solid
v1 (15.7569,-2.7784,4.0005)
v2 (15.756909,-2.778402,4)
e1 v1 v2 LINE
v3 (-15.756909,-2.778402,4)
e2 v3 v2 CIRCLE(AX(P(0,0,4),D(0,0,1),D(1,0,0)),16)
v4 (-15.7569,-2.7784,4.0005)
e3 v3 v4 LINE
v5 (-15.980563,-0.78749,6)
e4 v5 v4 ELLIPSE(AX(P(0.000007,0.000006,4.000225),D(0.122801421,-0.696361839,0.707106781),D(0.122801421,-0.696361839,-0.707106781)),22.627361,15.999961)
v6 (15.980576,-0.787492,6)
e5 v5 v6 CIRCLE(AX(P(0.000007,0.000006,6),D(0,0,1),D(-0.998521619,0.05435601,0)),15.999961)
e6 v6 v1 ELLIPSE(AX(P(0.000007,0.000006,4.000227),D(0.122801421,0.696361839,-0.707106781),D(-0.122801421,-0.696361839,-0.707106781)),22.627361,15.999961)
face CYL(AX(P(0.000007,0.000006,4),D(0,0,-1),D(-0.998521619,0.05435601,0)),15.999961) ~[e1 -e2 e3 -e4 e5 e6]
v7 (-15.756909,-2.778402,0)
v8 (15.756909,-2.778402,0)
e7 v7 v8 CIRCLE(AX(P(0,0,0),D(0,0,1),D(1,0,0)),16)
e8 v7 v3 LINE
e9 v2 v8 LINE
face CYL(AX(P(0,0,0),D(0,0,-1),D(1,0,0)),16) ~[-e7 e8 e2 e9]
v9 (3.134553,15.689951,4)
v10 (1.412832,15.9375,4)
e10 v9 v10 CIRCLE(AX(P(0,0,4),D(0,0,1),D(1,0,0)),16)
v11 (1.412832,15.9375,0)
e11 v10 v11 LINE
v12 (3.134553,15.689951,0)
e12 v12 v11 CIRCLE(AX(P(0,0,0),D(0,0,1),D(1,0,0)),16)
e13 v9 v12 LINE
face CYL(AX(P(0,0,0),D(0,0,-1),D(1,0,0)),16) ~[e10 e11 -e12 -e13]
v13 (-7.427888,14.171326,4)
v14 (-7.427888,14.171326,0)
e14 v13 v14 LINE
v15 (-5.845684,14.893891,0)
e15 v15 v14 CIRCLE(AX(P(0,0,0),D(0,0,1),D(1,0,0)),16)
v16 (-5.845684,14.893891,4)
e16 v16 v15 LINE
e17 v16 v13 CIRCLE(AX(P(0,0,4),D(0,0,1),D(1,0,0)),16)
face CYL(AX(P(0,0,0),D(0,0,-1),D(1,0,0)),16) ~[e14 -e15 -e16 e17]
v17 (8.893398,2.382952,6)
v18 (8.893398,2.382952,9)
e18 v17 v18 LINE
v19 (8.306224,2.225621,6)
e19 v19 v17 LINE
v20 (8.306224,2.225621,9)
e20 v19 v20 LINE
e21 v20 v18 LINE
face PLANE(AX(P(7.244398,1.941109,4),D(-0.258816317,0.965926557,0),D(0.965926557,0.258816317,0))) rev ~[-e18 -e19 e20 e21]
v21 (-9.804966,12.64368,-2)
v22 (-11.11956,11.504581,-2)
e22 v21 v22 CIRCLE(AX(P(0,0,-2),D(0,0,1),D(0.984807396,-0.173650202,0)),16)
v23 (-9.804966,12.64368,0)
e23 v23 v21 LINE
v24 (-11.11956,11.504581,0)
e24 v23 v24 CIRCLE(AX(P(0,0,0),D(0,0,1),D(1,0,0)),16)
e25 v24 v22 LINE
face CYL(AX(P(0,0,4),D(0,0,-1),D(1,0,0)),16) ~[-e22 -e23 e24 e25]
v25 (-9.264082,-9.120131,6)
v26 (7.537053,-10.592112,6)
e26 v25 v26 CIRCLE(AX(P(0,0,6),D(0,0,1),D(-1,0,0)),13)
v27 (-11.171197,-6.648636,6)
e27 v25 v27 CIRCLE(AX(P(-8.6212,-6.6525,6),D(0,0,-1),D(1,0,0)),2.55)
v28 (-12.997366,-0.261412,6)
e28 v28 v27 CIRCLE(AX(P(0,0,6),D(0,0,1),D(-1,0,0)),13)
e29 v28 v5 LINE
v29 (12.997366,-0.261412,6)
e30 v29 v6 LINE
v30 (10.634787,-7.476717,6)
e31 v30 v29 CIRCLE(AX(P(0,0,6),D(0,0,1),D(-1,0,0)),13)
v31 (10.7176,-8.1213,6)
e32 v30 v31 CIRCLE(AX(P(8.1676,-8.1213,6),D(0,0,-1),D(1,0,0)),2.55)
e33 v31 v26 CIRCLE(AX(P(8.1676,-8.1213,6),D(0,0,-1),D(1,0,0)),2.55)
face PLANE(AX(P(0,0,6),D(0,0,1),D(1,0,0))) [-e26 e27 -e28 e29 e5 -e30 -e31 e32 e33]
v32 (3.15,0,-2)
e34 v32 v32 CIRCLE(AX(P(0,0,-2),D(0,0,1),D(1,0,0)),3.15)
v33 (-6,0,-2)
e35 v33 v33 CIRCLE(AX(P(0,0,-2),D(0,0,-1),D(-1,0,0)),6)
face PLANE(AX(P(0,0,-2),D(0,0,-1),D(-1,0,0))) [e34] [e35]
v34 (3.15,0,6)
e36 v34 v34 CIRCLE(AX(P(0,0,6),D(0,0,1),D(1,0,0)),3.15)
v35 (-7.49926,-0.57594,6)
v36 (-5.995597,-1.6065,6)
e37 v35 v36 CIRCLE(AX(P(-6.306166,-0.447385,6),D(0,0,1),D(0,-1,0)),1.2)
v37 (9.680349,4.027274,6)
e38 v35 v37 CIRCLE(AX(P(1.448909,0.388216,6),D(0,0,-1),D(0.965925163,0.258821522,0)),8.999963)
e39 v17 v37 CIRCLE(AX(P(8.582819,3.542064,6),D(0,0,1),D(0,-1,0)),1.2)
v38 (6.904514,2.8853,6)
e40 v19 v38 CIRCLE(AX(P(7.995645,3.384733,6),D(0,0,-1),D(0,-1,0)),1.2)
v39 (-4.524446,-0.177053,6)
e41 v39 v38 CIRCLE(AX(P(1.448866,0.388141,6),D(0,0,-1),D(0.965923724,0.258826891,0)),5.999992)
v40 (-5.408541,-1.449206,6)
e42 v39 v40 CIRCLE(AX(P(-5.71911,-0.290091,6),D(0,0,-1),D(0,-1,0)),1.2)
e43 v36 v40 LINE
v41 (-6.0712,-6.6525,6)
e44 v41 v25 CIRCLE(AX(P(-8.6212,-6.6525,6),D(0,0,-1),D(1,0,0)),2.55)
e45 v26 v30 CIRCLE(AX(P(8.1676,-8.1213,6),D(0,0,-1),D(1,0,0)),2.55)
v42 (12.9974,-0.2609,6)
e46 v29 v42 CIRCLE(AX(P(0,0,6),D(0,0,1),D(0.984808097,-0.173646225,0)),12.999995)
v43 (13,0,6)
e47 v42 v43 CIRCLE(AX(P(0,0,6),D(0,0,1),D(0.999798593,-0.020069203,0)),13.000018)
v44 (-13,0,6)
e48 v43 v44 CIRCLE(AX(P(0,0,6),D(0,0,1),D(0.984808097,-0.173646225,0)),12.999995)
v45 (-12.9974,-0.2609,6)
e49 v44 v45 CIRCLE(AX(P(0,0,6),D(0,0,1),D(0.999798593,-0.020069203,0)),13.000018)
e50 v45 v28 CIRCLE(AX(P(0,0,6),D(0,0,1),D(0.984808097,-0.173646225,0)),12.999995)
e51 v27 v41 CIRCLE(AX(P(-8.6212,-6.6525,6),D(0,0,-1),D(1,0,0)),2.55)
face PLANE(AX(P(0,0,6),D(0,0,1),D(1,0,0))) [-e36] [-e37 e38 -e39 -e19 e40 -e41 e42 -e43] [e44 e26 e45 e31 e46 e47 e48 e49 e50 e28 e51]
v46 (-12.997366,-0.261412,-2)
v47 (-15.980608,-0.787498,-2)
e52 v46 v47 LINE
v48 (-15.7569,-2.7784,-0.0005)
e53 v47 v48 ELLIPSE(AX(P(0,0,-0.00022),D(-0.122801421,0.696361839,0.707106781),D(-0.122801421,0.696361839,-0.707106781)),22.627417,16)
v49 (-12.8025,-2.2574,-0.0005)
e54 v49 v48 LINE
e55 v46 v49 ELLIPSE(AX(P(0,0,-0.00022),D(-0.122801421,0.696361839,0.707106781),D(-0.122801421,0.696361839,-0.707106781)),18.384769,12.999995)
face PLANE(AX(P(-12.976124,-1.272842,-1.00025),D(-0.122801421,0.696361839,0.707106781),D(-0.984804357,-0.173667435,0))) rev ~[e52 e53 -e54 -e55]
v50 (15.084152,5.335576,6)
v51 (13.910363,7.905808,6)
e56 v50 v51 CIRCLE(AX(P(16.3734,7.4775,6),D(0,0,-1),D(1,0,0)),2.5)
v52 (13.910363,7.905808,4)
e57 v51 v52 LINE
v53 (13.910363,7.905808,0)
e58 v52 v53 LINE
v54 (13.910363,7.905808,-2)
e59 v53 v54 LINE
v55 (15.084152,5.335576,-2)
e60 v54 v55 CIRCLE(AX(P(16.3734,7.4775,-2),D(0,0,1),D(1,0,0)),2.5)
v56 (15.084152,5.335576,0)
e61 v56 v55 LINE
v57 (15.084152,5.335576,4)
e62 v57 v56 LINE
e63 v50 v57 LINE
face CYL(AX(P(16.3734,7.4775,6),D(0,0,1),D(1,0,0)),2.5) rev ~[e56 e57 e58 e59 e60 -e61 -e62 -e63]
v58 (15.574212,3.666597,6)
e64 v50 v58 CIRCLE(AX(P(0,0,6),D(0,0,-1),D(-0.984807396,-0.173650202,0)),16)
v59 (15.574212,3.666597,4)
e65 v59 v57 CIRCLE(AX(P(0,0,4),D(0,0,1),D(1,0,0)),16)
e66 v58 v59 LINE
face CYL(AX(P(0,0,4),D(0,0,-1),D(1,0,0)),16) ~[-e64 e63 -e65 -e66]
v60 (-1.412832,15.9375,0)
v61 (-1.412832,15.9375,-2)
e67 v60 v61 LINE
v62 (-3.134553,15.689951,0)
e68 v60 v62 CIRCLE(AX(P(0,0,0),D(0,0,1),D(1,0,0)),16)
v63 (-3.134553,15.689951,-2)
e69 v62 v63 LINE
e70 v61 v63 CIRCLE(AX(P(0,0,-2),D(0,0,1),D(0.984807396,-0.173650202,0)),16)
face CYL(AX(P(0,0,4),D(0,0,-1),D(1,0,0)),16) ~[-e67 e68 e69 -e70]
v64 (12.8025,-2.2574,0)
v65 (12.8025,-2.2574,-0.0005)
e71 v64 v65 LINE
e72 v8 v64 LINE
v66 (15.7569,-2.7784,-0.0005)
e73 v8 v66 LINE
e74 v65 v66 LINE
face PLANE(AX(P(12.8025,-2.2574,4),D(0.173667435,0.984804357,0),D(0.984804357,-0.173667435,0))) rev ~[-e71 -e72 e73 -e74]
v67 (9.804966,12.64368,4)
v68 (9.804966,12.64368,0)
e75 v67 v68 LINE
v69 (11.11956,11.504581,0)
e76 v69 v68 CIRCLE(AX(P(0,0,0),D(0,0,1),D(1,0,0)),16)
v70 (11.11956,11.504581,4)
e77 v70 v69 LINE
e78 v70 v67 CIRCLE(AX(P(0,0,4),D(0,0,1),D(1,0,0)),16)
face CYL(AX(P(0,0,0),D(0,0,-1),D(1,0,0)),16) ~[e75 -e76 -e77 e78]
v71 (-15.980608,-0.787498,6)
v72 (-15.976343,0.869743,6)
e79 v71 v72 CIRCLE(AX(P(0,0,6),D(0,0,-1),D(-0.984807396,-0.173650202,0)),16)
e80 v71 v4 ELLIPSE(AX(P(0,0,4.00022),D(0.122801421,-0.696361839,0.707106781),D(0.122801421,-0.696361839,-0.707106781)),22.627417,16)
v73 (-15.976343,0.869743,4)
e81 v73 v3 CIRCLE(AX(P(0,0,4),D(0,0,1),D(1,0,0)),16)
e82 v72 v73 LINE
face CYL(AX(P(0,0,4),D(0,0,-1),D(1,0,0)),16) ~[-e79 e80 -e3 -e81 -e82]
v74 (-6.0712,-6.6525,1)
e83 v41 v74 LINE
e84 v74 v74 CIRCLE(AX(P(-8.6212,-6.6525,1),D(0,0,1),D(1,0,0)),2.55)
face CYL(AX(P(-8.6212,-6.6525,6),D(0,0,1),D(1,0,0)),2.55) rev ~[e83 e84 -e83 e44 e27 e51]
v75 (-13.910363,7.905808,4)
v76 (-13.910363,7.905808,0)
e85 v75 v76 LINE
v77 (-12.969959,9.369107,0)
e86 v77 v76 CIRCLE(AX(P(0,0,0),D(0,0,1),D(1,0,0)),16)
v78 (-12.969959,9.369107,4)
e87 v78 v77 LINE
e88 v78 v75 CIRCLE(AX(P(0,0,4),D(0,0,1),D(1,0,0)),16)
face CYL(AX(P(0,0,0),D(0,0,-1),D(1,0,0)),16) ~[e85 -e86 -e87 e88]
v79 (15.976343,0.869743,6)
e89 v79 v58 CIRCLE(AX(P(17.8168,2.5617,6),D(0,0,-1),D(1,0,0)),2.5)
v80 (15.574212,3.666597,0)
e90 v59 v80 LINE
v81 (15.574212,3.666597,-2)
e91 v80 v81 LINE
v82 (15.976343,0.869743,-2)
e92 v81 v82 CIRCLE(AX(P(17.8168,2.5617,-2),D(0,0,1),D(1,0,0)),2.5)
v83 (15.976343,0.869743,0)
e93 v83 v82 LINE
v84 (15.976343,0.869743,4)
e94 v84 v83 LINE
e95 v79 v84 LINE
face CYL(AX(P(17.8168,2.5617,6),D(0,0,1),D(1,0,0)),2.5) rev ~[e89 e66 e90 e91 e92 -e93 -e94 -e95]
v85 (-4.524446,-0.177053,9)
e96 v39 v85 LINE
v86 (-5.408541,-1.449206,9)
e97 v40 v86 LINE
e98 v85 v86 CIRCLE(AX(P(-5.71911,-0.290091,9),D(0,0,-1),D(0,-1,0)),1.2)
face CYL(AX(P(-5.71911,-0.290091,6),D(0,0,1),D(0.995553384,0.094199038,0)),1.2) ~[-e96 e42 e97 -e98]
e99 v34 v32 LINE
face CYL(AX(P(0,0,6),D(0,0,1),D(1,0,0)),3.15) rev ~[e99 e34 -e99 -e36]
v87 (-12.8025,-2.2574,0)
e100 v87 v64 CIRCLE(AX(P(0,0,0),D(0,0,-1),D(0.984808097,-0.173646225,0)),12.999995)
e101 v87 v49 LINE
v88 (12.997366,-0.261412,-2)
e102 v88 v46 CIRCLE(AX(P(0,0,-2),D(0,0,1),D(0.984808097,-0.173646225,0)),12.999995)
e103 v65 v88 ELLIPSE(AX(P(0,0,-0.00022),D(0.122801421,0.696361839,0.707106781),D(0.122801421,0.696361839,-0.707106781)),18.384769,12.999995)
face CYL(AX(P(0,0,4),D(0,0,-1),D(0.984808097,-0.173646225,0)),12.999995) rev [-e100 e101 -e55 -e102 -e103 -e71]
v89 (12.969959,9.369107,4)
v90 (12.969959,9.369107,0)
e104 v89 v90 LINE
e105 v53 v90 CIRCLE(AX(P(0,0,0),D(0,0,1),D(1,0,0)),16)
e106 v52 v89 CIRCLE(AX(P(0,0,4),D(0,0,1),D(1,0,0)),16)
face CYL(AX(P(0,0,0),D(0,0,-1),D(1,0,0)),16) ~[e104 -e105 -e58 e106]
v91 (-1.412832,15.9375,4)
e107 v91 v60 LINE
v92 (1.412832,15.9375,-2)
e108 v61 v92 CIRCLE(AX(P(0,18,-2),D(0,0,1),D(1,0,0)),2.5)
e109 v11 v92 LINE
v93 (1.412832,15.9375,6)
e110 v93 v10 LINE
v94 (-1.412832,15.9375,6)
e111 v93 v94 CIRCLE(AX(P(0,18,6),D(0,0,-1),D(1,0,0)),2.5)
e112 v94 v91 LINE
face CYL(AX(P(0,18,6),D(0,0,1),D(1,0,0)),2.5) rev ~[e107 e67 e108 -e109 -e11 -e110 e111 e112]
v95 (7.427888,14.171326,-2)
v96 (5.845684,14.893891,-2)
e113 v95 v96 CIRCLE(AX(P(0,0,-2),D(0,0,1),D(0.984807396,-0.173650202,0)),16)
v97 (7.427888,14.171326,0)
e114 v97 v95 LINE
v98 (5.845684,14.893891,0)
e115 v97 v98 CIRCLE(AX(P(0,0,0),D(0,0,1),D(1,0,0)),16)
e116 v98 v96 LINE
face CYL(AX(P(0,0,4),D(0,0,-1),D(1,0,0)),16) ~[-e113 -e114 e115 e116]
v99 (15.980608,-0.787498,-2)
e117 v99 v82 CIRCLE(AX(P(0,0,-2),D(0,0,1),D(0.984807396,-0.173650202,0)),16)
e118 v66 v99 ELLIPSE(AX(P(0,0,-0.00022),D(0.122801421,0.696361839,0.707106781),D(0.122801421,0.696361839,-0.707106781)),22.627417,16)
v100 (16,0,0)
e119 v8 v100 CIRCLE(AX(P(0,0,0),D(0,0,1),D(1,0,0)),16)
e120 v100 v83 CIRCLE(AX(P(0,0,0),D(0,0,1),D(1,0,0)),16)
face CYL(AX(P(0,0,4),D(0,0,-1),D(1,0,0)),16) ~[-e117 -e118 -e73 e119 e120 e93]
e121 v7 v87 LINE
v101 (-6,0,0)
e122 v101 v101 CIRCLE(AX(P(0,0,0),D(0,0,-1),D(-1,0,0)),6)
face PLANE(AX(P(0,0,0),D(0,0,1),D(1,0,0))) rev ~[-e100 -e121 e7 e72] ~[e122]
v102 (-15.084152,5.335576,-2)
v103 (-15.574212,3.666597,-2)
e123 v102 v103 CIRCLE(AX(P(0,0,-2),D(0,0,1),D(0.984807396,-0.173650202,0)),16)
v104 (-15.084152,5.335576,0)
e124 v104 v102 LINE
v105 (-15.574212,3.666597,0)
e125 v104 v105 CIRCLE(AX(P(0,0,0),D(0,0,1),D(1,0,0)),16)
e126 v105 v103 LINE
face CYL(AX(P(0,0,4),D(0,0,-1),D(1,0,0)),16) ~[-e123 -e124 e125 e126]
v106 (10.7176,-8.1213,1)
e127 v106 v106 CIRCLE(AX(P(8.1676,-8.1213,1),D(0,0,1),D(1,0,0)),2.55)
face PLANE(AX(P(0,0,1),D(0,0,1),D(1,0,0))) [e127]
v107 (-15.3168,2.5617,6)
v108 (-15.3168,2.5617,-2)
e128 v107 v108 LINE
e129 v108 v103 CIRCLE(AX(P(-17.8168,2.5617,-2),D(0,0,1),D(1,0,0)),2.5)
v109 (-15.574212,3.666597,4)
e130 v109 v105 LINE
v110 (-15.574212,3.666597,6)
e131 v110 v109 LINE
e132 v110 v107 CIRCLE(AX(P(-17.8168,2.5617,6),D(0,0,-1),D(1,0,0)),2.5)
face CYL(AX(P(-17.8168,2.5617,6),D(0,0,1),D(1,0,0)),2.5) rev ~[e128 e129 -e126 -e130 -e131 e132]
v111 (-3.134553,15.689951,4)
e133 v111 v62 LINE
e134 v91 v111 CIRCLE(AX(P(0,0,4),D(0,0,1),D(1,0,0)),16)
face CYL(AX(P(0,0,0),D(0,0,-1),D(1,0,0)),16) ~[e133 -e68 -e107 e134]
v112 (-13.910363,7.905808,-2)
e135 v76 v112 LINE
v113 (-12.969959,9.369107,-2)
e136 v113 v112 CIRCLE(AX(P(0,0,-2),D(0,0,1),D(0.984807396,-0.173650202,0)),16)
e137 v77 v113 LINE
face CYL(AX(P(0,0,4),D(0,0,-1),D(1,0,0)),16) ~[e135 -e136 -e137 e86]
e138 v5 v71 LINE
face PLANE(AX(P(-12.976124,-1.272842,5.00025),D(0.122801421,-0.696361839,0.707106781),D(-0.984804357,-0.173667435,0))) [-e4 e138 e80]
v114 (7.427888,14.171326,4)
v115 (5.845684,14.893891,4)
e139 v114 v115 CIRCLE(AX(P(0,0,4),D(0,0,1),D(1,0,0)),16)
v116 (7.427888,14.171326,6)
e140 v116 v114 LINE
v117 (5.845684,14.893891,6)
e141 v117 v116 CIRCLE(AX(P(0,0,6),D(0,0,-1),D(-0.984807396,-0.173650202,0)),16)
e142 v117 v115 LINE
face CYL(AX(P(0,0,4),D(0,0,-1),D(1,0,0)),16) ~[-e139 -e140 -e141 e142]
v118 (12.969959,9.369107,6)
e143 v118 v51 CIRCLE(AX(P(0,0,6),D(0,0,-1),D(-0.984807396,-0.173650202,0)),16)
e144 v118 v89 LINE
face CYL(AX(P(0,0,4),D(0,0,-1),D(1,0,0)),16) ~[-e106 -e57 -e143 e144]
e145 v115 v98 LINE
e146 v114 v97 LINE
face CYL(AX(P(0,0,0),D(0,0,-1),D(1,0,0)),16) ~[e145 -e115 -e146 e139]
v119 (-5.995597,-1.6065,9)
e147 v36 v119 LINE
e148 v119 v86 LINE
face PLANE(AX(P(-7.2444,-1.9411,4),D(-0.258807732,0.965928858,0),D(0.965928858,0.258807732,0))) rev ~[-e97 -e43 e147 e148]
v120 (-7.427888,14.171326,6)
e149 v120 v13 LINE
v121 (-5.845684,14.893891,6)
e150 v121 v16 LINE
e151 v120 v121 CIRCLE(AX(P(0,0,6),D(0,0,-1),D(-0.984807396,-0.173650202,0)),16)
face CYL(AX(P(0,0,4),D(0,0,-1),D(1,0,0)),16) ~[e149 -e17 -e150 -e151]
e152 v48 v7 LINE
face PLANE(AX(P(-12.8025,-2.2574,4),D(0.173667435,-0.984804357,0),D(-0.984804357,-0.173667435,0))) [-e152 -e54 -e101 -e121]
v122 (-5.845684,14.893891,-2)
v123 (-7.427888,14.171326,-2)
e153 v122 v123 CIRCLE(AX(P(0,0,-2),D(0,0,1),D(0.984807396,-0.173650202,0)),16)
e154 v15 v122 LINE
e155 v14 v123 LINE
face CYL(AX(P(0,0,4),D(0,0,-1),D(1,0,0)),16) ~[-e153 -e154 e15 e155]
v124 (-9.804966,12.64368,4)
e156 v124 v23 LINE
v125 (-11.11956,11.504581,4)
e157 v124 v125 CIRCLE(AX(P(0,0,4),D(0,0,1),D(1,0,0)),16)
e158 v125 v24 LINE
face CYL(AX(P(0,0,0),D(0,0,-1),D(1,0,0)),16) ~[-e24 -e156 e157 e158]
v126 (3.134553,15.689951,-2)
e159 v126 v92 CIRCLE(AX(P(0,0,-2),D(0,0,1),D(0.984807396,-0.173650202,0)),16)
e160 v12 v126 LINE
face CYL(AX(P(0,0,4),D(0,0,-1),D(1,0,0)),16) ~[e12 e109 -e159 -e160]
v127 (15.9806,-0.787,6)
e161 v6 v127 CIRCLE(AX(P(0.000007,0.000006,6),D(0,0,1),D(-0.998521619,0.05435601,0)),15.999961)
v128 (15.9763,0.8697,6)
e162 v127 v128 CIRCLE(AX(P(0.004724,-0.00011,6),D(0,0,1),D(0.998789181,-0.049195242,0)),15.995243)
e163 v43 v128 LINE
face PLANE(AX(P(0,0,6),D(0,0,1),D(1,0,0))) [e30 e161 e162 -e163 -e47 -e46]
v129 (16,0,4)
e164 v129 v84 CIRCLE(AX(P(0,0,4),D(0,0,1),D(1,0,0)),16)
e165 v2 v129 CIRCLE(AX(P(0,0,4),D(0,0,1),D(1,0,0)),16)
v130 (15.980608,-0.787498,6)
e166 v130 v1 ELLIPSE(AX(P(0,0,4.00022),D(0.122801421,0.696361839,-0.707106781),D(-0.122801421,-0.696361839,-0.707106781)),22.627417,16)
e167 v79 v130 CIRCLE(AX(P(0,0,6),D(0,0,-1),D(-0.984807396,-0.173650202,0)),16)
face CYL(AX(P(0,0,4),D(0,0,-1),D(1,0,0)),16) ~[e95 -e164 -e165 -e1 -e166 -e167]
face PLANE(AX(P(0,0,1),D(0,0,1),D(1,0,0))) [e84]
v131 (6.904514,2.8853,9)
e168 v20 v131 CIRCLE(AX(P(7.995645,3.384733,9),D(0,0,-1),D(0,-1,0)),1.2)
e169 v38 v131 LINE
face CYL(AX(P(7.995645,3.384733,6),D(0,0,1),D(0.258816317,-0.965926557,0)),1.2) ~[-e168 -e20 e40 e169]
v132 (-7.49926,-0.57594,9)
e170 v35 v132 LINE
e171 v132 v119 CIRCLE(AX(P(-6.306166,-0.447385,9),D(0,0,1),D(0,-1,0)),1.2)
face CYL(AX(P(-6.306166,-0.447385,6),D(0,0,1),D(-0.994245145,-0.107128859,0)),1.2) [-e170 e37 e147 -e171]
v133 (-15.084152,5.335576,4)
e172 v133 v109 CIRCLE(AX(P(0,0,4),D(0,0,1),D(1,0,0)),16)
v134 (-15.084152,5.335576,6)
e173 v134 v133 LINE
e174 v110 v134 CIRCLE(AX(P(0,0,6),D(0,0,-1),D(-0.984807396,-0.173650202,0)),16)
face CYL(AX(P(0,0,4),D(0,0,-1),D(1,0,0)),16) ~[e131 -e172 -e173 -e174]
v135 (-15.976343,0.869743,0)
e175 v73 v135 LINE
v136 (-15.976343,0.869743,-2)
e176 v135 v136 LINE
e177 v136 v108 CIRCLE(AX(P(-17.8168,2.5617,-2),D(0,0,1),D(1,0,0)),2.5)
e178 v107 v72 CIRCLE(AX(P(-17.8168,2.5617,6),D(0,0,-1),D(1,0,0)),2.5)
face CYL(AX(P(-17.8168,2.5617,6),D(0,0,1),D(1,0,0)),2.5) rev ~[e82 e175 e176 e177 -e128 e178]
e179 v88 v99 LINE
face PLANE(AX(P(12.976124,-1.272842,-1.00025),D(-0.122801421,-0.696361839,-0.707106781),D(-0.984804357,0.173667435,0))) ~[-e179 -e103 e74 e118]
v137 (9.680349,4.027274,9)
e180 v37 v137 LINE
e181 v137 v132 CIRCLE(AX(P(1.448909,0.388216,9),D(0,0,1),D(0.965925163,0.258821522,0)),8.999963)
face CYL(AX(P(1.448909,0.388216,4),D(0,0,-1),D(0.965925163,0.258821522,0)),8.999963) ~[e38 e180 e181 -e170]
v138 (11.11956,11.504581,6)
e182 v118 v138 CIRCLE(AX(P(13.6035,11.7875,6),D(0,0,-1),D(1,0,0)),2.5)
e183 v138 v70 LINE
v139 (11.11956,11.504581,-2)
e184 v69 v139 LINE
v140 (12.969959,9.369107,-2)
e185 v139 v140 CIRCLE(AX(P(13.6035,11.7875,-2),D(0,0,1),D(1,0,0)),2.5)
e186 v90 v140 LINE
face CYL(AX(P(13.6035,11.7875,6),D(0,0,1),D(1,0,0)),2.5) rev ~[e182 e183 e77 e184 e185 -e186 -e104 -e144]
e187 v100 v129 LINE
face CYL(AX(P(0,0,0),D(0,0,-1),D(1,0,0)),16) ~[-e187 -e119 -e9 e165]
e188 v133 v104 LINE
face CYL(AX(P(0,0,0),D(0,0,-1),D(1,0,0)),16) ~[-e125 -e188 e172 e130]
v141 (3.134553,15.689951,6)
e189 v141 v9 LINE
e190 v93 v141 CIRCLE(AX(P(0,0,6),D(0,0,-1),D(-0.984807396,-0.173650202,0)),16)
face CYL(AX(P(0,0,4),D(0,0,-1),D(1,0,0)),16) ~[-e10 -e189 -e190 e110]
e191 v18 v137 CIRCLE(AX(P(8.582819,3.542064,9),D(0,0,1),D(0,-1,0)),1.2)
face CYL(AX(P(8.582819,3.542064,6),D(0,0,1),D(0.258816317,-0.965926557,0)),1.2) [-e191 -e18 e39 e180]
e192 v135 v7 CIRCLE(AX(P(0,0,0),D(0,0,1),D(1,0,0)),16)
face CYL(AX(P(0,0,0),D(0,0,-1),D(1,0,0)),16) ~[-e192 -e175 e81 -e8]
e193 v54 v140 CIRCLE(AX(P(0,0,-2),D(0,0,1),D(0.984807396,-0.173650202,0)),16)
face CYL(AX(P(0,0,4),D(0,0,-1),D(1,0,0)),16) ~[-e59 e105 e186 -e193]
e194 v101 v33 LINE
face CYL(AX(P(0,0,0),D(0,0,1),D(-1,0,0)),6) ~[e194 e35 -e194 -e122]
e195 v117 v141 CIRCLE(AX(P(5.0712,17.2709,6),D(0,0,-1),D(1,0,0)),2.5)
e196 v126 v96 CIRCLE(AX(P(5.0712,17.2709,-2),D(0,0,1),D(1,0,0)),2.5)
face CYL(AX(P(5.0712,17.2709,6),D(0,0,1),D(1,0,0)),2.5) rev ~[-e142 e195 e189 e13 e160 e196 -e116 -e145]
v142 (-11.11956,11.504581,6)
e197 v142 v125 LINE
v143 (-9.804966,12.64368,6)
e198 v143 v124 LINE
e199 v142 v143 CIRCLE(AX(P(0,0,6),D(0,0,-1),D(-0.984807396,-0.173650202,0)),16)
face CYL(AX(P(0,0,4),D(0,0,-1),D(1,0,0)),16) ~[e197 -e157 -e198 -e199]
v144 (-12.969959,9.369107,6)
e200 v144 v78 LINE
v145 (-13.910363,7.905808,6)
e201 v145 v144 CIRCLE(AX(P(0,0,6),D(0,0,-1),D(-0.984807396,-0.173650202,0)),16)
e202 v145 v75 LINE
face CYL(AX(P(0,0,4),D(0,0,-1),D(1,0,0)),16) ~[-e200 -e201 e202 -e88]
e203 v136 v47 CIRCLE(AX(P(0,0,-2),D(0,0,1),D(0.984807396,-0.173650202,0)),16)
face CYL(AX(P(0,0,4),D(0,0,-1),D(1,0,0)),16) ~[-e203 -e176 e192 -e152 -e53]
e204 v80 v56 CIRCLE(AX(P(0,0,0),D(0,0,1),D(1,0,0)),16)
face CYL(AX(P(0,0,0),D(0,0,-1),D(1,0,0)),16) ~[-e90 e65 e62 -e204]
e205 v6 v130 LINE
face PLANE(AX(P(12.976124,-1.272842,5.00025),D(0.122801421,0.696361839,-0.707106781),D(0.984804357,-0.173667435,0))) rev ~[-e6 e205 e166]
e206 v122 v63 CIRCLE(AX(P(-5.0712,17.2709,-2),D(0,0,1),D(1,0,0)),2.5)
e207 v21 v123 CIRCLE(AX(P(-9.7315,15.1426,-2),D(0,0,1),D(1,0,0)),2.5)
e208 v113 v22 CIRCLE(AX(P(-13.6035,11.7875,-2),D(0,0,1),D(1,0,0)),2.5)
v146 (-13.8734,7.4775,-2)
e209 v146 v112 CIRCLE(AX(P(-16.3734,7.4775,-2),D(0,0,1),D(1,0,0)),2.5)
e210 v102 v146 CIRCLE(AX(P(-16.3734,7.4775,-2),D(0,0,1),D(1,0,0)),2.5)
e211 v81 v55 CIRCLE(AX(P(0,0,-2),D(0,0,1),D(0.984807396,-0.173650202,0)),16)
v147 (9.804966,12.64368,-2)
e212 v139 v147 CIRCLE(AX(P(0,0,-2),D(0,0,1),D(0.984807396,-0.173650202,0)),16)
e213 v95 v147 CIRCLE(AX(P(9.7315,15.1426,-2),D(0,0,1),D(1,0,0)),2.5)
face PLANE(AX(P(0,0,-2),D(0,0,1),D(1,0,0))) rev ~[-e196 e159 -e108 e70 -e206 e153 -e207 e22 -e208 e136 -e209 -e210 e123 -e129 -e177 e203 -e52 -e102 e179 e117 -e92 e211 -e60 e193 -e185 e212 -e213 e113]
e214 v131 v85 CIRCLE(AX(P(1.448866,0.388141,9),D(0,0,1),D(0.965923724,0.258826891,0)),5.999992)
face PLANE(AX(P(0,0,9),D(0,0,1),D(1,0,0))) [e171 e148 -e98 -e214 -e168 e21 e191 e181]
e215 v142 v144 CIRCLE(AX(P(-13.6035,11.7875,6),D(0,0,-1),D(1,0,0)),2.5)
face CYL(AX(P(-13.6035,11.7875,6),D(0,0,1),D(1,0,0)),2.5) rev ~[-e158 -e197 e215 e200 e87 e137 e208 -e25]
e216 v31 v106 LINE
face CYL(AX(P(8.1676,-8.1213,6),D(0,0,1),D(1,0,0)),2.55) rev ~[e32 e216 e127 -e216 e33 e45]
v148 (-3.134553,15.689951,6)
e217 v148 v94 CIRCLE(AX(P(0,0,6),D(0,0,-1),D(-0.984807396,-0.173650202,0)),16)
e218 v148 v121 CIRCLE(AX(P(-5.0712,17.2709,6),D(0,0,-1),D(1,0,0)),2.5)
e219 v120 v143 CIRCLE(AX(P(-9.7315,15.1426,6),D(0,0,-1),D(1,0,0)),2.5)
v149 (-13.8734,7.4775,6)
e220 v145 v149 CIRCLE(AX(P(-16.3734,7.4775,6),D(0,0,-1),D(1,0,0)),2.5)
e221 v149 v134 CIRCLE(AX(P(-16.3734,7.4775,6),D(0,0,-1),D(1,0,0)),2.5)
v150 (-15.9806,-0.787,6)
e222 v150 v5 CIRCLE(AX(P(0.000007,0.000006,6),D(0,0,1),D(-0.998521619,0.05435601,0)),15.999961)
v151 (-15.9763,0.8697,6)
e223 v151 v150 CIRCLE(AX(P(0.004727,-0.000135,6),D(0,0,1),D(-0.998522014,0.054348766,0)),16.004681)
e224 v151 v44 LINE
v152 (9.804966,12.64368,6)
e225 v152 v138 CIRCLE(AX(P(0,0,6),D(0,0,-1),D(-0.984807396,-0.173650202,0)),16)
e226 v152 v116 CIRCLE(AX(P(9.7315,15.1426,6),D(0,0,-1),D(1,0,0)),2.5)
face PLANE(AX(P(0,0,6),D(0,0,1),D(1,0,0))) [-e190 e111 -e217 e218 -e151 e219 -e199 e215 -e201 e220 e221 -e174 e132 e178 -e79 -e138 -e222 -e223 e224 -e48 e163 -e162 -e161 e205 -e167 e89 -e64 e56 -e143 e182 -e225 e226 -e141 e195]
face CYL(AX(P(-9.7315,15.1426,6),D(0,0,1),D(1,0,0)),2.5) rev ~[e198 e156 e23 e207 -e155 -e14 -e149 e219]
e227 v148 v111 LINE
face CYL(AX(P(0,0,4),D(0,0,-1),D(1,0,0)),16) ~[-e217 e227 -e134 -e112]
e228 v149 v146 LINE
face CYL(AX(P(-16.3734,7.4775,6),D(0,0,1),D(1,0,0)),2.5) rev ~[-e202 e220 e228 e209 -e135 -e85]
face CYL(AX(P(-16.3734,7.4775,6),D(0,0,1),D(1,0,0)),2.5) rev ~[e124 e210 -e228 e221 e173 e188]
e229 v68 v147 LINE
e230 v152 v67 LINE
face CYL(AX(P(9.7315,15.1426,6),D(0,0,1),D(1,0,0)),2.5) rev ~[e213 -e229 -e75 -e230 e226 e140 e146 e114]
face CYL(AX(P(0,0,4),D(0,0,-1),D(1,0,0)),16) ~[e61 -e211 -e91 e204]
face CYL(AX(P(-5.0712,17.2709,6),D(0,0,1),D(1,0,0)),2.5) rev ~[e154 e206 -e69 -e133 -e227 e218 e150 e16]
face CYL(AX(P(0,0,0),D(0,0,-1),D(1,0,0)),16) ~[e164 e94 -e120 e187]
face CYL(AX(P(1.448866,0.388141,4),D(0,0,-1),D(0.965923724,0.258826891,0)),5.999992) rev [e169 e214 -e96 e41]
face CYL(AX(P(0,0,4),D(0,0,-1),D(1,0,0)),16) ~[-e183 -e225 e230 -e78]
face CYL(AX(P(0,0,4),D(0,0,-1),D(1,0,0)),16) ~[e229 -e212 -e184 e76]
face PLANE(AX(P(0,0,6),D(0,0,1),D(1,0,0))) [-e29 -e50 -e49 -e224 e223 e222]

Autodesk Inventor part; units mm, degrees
ref_plane "YZ Plane" through (0, 0, 0) normal (1, 0, 0) x (0, 1, 0)
ref_plane "XZ Plane" through (0, 0, 0) normal (0, 1, 0) x (-1, 0, 0)
ref_plane "XY Plane" through (0, 0, 0) normal (0, 0, 1) x (1, 0, 0)
sketch "Sketch1" plane through (0, 0, 0) normal (0, 0, 1) x (1, 0, 0)
  circle A0 centre (0, 0) radius 16
  dimension "d0" = 32
extrude "Extrusion1" add sketch "Sketch1" along normal blind 4
sketch "Sketch2" plane through (0, 0, 4) normal (0, 0, 1) x (1, 0, 0)
  circle A0 centre (0, 0) radius 16 projected
  arc A1 (15.7569, -2.7784) -> (-15.7569, -2.7784) centre (0, 0) ccw
  line L0 (0, 0) -> (-15.7569, -2.7784) construction
  line L1 (0, 0) -> (16, 0) construction
  line L2 (0, 0) -> (15.7569, -2.7784) construction
  arc A2 (12.8025, -2.2574) -> (-12.8025, -2.2574) centre (0, 0) ccw
  line L3 (0, 0) -> (-12.8025, -2.2574) construction
  line L4 (0, 0) -> (13, 0) construction
  line L5 (0, 0) -> (12.8025, -2.2574) construction
  line L6 (-12.8025, -2.2574) -> (-15.7569, -2.7784)
  line L7 (12.8025, -2.2574) -> (15.7569, -2.7784)
  dimension "d3" = 170
  dimension "d4" = 160
  dimension "d5" = 13
  dimension "d6" = 170
  dimension "d7" = 160
extrude "Extrusion2" add sketch "Sketch2" along normal blind 2 and the other way blind 6 contours A0 L7 A2 L6 picked at (-14.8428, -1.3464)
sketch "Sketch3" plane through (0, 0, 6) normal (0, 0, 1) x (1, 0, 0)
  arc A0 (15.7569, -2.7784) -> (-15.7569, -2.7784) centre (0, 0) ccw projected
  line L0 (0, 16) -> (0, 18)
  circle A1 centre (0, 18) radius 2.5
  line L1 (-4.5077, 15.3519) -> (-5.0712, 17.2709)
  circle A2 centre (-5.0712, 17.2709) radius 2.5
  line L2 (-8.6503, 13.4601) -> (-9.7315, 15.1426)
  circle A3 centre (-9.7315, 15.1426) radius 2.5
  line L3 (-12.092, 10.4778) -> (-13.6035, 11.7875)
  circle A4 centre (-13.6035, 11.7875) radius 2.5
  line L4 (-14.5541, 6.6466) -> (-16.3734, 7.4775)
  circle A5 centre (-16.3734, 7.4775) radius 2.5
  line L5 (-15.8371, 2.277) -> (-17.8168, 2.5617)
  circle A6 centre (-17.8168, 2.5617) radius 2.5
  line L6 (-15.8371, -2.277) -> (-17.8168, -2.5617)
  circle A7 centre (-17.8168, -2.5617) radius 2.5
  line L7 (-14.5541, -6.6466) -> (-16.3734, -7.4775)
  circle A8 centre (-16.3734, -7.4775) radius 2.5
  line L8 (-12.092, -10.4778) -> (-13.6035, -11.7875)
  circle A9 centre (-13.6035, -11.7875) radius 2.5
  line L9 (-8.6503, -13.4601) -> (-9.7315, -15.1426)
  circle A10 centre (-9.7315, -15.1426) radius 2.5
  line L10 (-4.5077, -15.3519) -> (-5.0712, -17.2709)
  circle A11 centre (-5.0712, -17.2709) radius 2.5
  line L11 (0, -16) -> (0, -18)
  circle A12 centre (0, -18) radius 2.5
  line L12 (4.5077, -15.3519) -> (5.0712, -17.2709)
  circle A13 centre (5.0712, -17.2709) radius 2.5
  line L13 (8.6503, -13.4601) -> (9.7315, -15.1426)
  circle A14 centre (9.7315, -15.1426) radius 2.5
  line L14 (12.092, -10.4778) -> (13.6035, -11.7875)
  circle A15 centre (13.6035, -11.7875) radius 2.5
  line L15 (14.5541, -6.6466) -> (16.3734, -7.4775)
  circle A16 centre (16.3734, -7.4775) radius 2.5
  line L16 (15.8371, -2.277) -> (17.8168, -2.5617)
  circle A17 centre (17.8168, -2.5617) radius 2.5
  line L17 (15.8371, 2.277) -> (17.8168, 2.5617)
  circle A18 centre (17.8168, 2.5617) radius 2.5
  line L18 (14.5541, 6.6466) -> (16.3734, 7.4775)
  circle A19 centre (16.3734, 7.4775) radius 2.5
  line L19 (12.092, 10.4778) -> (13.6035, 11.7875)
  circle A20 centre (13.6035, 11.7875) radius 2.5
  line L20 (8.6503, 13.4601) -> (9.7315, 15.1426)
  circle A21 centre (9.7315, 15.1426) radius 2.5
  line L21 (4.5077, 15.3519) -> (5.0712, 17.2709)
  circle A22 centre (5.0712, 17.2709) radius 2.5
  dimension "d12" = 2
  dimension "d13" = 5
  dimension "d16" = 360
extrude "Extrusion3" cut sketch "Sketch3" against normal blind 9.25 contours A6 A0 | A0 A6 | A5 A0 | A0 A5 | A4 A0 | A0 A4 | A3 A0 | A0 A3 | A2 A0 | A0 A2 | A1 A0 | A0 A1 | A22 A0 | A0 A22 | A21 A0 | A0 A21 | A20 A0 | A0 A20 | A19 A0 | A0 A19 | A18 A0 | A0 A18
sketch "Sketch4" plane through (0, 0, 4) normal (0, 0, 1) x (1, 0, 0)
  circle A0 centre (0, 0) radius 3.05
  dimension "d20" = 6.1
extrude "Extrusion4" cut sketch "Sketch4" along normal blind 9.25 and the other way blind 8.875
chamfer "Chamfer1" distance 2 angle 45 4 edges at (-14.2797, -2.5179, 6) (-14.2797, -2.5179, -2) (14.2797, -2.5179, 6) (14.2797, -2.5179, -2)
sketch "Sketch5" plane through (0, 0, 4) normal (0, 0, 1) x (1, 0, 0)
  line L0 (0, 0) -> (12.557, 3.3646)
  arc A0 (12.9974, -0.2609) -> (-12.9974, -0.2609) centre (0, 0) ccw projected
  line L1 (0, 0) -> (13, 0) construction
  line L2 (0, 0) -> (2.8978, 0.7765)
  circle A1 centre (0, 0) radius 3.05 projected
  line L3 (0, 0) -> (1.4489, 0.3882)
  arc A2 (7.2444, 1.9411) -> (-4.3467, -1.1647) centre (1.4489, 0.3882) ccw
  line L4 (1.4489, 0.3882) -> (7.2444, 1.9411) construction
  line L5 (1.4489, 0.3882) -> (-4.3467, -1.1647) construction
  arc A3 (10.1422, 2.7176) -> (-7.2444, -1.9411) centre (1.4489, 0.3882) ccw
  line L6 (-7.2444, -1.9411) -> (-4.3467, -1.1647)
  line L7 (7.2444, 1.9411) -> (10.1422, 2.7176)
  dimension "d26" = 15
  dimension "d33" = 1.5
  dimension "d34" = 6
  dimension "d35" = 180
  dimension "d36" = 9
extrude "Extrusion5" add sketch "Sketch5" along normal blind 5 contours A2 L6 A3 L0
sketch "Sketch6" plane through (0, 0, 0) normal (0, 0, -1) x (-1, 0, 0)
  circle A0 centre (0, 0) radius 3
  circle A1 centre (0, 0) radius 6
  dimension "d38" = 12
extrude "Extrusion6" add sketch "Sketch6" along normal blind 2
sketch "Sketch7" plane through (0, 0, 4) normal (0, 0, 1) x (1, 0, 0)
  arc A0 (-15.9763, 0.8697) -> (-15.9806, -0.787) centre (0, 0) ccw projected
  arc A1 (15.9806, -0.787) -> (15.9763, 0.8697) centre (0, 0) ccw projected
  arc A2 (-15.9763, 0.8697) -> (15.9806, -0.787) centre (0, 0) ccw
  arc A3 (12.9974, -0.2609) -> (-12.9974, -0.2609) centre (0, 0) ccw projected
  arc A4 (-13, 0) -> (13, 0) centre (0, 0) ccw
  line L0 (0, 0) -> (13, 0) construction
  line L1 (0, 0) -> (-13, 0) construction
  line L2 (-15.9763, 0.8697) -> (-13, 0)
  line L3 (13, 0) -> (15.9763, 0.8697)
  dimension "d41" = 13
  dimension "d42" = 180
extrude "Extrusion7" add sketch "Sketch7" along normal blind 2 contours L2 A3 A4 L3 A1 A2 A0
sketch "Sketch12" plane through (0, 0, 4) normal (0, 0, 1) x (1, 0, 0)
  circle A0 centre (0, 0) radius 13
extrude "Extrusion11" add sketch "Sketch12" along normal blind 2
sketch "Sketch8" plane through (0, 0, 0) normal (0, 0, -1) x (-1, 0, 0)
  arc A0 (-6.62, -8.785) -> (7.502, -8.0449) centre (0, 0) ccw
  line L0 (0, 0) -> (-6.62, -8.785) construction
  line L1 (0, 0) -> (11, 0) construction
  line L2 (0, 0) -> (7.502, -8.0449) construction
  circle A1 centre (-6.62, -8.785) radius 2.5
  circle A2 centre (7.502, -8.0449) radius 2.5
  dimension "d45" = 11
  dimension "d46" = 127
  dimension "d47" = 80
  dimension "d48" = 5
  dimension "d49" = 5
extrude "Extrusion8" [suppressed]
sketch "Sketch13" plane through (0, 0, 6) normal (0, 0, 1) x (1, 0, 0)
  circle A0 centre (0, 0) radius 3.15
  dimension "d72" = 6.3
extrude "Extrusion12" cut sketch "Sketch13" against normal blind 10.25
sketch "Sketch14" plane through (0, 0, 6) normal (0, 0, 1) x (1, 0, 0)
  point P0 (0, 0)
sketch "Sketch15" plane through (0, 0, 6) normal (0, 0, 1) x (1, 0, 0)
  arc A0 (-8.6212, -6.6525) -> (8.1676, -8.1213) centre (0.3894, -0.3431) ccw
  line L0 (0.3894, -0.3431) -> (-8.6212, -6.6525) construction
  line L1 (0.3894, -0.3431) -> (11.3894, -0.3431) construction
  line L2 (0.3894, -0.3431) -> (8.1676, -8.1213) construction
  circle A1 centre (-8.6212, -6.6525) radius 2.55
  circle A2 centre (8.1676, -8.1213) radius 2.55
  point P0 (0, 0)
  dimension "d73" = 11
  dimension "d74" = 145
  dimension "d75" = 100
  dimension "d76" = 5.1
  dimension "d77" = 5.1
extrude "Extrusion13" cut sketch "Sketch15" against normal blind 5
fillet "Fillet6" radius 1.2 4 edges at (-7.2444, -1.9411, 7.5) (-4.3467, -1.1647, 7.5) (7.2444, 1.9411, 7.5) (10.1422, 2.7176, 7.5)
sketch "Sketch16" plane through (-8.6212, -6.6525, 1) normal (0, 0, 1) x (1, 0, 0)
  circle A0 centre (0, 0) radius 1
  circle A1 centre (16.7888, -1.4688) radius 2.55 projected
  circle A2 centre (16.7888, -1.4688) radius 1
  point P0 (8.6212, 6.6525)
  dimension "d84" = 2
  dimension "d85" = 2
extrude "Extrusion14" [suppressed]
sketch "Sketch18" plane through (0, 0, 6) normal (0, 0, 1) x (1, 0, 0)
  arc A0 (-1.4128, 15.9375) -> (-3.1345, 15.69) centre (0, 0) ccw projected
  line L0 (-3.1345, 15.69) -> (-2.0992, 19.5537)
  line L1 (-3.1345, 15.69) -> (0.8655, 15.69) construction
  arc A1 (3.1345, 15.69) -> (1.4128, 15.9375) centre (0, 0) ccw projected
  arc A2 (3.1345, 15.69) -> (5.8457, 14.8939) centre (5.0712, 17.2709) ccw projected
  line L2 (3.1345, 15.69) -> (2.0992, 19.5537)
  line L3 (3.1345, 15.69) -> (7.1345, 15.69) construction
  line L4 (2.0992, 19.5537) -> (-2.0992, 19.5537)
  arc A3 (-5.8457, 14.8939) -> (-3.1345, 15.69) centre (-5.0712, 17.2709) ccw projected
  line L5 (-3.1345, 15.69) -> (0, 14.2283)
  line L6 (-3.1345, 15.69) -> (0.324, 15.69) construction
  line L7 (0, 14.2283) -> (3.1345, 15.69)
  dimension "d94" = 4
  dimension "d95" = 75
  dimension "d96" = 4
  dimension "d97" = 105
  dimension "d98" = 25
extrude "Extrusion16" [suppressed]
fillet "Fillet11" [suppressed]
sketch "Sketch20" plane through (0, 0, 6) normal (0, 0, 1) x (1, 0, 0)
  line L0 (-0.1809, 19.5537) -> (0.1809, 19.5537) projected
  arc A0 (-0.1809, 19.5537) -> (-2.5957, 17.7007) centre (-0.1809, 17.0537) ccw projected
  arc A1 (2.5957, 17.7007) -> (0.1809, 19.5537) centre (0.1809, 17.0537) ccw projected
  line L1 (-2.8685, 16.6827) -> (-2.5957, 17.7007) projected
  line L2 (2.5957, 17.7007) -> (2.8685, 16.6827) projected
  line L3 (-1.1298, 16.2169) -> (-0.8571, 17.2348)
  arc A2 (-0.1809, 17.7537) -> (-0.8571, 17.2348) centre (-0.1809, 17.0537) ccw
  line L4 (-0.1809, 17.7537) -> (0.1809, 17.7537)
  arc A3 (0.8571, 17.2348) -> (0.1809, 17.7537) centre (0.1809, 17.0537) ccw
  line L5 (0.8571, 17.2348) -> (1.1298, 16.2169)
  line L6 (-1.1298, 16.2169) -> (-1.6475, 14.285)
  line L7 (-1.6475, 14.285) -> (1.6475, 14.285)
  line L8 (1.6475, 14.285) -> (1.1298, 16.2169)
  point P0 (0, 0)
  dimension "d112" = 1.8
  dimension "d113" = 2
extrude "Extrusion18" [suppressed]
fillet "Fillet12" [suppressed]
properties part number "knob"
